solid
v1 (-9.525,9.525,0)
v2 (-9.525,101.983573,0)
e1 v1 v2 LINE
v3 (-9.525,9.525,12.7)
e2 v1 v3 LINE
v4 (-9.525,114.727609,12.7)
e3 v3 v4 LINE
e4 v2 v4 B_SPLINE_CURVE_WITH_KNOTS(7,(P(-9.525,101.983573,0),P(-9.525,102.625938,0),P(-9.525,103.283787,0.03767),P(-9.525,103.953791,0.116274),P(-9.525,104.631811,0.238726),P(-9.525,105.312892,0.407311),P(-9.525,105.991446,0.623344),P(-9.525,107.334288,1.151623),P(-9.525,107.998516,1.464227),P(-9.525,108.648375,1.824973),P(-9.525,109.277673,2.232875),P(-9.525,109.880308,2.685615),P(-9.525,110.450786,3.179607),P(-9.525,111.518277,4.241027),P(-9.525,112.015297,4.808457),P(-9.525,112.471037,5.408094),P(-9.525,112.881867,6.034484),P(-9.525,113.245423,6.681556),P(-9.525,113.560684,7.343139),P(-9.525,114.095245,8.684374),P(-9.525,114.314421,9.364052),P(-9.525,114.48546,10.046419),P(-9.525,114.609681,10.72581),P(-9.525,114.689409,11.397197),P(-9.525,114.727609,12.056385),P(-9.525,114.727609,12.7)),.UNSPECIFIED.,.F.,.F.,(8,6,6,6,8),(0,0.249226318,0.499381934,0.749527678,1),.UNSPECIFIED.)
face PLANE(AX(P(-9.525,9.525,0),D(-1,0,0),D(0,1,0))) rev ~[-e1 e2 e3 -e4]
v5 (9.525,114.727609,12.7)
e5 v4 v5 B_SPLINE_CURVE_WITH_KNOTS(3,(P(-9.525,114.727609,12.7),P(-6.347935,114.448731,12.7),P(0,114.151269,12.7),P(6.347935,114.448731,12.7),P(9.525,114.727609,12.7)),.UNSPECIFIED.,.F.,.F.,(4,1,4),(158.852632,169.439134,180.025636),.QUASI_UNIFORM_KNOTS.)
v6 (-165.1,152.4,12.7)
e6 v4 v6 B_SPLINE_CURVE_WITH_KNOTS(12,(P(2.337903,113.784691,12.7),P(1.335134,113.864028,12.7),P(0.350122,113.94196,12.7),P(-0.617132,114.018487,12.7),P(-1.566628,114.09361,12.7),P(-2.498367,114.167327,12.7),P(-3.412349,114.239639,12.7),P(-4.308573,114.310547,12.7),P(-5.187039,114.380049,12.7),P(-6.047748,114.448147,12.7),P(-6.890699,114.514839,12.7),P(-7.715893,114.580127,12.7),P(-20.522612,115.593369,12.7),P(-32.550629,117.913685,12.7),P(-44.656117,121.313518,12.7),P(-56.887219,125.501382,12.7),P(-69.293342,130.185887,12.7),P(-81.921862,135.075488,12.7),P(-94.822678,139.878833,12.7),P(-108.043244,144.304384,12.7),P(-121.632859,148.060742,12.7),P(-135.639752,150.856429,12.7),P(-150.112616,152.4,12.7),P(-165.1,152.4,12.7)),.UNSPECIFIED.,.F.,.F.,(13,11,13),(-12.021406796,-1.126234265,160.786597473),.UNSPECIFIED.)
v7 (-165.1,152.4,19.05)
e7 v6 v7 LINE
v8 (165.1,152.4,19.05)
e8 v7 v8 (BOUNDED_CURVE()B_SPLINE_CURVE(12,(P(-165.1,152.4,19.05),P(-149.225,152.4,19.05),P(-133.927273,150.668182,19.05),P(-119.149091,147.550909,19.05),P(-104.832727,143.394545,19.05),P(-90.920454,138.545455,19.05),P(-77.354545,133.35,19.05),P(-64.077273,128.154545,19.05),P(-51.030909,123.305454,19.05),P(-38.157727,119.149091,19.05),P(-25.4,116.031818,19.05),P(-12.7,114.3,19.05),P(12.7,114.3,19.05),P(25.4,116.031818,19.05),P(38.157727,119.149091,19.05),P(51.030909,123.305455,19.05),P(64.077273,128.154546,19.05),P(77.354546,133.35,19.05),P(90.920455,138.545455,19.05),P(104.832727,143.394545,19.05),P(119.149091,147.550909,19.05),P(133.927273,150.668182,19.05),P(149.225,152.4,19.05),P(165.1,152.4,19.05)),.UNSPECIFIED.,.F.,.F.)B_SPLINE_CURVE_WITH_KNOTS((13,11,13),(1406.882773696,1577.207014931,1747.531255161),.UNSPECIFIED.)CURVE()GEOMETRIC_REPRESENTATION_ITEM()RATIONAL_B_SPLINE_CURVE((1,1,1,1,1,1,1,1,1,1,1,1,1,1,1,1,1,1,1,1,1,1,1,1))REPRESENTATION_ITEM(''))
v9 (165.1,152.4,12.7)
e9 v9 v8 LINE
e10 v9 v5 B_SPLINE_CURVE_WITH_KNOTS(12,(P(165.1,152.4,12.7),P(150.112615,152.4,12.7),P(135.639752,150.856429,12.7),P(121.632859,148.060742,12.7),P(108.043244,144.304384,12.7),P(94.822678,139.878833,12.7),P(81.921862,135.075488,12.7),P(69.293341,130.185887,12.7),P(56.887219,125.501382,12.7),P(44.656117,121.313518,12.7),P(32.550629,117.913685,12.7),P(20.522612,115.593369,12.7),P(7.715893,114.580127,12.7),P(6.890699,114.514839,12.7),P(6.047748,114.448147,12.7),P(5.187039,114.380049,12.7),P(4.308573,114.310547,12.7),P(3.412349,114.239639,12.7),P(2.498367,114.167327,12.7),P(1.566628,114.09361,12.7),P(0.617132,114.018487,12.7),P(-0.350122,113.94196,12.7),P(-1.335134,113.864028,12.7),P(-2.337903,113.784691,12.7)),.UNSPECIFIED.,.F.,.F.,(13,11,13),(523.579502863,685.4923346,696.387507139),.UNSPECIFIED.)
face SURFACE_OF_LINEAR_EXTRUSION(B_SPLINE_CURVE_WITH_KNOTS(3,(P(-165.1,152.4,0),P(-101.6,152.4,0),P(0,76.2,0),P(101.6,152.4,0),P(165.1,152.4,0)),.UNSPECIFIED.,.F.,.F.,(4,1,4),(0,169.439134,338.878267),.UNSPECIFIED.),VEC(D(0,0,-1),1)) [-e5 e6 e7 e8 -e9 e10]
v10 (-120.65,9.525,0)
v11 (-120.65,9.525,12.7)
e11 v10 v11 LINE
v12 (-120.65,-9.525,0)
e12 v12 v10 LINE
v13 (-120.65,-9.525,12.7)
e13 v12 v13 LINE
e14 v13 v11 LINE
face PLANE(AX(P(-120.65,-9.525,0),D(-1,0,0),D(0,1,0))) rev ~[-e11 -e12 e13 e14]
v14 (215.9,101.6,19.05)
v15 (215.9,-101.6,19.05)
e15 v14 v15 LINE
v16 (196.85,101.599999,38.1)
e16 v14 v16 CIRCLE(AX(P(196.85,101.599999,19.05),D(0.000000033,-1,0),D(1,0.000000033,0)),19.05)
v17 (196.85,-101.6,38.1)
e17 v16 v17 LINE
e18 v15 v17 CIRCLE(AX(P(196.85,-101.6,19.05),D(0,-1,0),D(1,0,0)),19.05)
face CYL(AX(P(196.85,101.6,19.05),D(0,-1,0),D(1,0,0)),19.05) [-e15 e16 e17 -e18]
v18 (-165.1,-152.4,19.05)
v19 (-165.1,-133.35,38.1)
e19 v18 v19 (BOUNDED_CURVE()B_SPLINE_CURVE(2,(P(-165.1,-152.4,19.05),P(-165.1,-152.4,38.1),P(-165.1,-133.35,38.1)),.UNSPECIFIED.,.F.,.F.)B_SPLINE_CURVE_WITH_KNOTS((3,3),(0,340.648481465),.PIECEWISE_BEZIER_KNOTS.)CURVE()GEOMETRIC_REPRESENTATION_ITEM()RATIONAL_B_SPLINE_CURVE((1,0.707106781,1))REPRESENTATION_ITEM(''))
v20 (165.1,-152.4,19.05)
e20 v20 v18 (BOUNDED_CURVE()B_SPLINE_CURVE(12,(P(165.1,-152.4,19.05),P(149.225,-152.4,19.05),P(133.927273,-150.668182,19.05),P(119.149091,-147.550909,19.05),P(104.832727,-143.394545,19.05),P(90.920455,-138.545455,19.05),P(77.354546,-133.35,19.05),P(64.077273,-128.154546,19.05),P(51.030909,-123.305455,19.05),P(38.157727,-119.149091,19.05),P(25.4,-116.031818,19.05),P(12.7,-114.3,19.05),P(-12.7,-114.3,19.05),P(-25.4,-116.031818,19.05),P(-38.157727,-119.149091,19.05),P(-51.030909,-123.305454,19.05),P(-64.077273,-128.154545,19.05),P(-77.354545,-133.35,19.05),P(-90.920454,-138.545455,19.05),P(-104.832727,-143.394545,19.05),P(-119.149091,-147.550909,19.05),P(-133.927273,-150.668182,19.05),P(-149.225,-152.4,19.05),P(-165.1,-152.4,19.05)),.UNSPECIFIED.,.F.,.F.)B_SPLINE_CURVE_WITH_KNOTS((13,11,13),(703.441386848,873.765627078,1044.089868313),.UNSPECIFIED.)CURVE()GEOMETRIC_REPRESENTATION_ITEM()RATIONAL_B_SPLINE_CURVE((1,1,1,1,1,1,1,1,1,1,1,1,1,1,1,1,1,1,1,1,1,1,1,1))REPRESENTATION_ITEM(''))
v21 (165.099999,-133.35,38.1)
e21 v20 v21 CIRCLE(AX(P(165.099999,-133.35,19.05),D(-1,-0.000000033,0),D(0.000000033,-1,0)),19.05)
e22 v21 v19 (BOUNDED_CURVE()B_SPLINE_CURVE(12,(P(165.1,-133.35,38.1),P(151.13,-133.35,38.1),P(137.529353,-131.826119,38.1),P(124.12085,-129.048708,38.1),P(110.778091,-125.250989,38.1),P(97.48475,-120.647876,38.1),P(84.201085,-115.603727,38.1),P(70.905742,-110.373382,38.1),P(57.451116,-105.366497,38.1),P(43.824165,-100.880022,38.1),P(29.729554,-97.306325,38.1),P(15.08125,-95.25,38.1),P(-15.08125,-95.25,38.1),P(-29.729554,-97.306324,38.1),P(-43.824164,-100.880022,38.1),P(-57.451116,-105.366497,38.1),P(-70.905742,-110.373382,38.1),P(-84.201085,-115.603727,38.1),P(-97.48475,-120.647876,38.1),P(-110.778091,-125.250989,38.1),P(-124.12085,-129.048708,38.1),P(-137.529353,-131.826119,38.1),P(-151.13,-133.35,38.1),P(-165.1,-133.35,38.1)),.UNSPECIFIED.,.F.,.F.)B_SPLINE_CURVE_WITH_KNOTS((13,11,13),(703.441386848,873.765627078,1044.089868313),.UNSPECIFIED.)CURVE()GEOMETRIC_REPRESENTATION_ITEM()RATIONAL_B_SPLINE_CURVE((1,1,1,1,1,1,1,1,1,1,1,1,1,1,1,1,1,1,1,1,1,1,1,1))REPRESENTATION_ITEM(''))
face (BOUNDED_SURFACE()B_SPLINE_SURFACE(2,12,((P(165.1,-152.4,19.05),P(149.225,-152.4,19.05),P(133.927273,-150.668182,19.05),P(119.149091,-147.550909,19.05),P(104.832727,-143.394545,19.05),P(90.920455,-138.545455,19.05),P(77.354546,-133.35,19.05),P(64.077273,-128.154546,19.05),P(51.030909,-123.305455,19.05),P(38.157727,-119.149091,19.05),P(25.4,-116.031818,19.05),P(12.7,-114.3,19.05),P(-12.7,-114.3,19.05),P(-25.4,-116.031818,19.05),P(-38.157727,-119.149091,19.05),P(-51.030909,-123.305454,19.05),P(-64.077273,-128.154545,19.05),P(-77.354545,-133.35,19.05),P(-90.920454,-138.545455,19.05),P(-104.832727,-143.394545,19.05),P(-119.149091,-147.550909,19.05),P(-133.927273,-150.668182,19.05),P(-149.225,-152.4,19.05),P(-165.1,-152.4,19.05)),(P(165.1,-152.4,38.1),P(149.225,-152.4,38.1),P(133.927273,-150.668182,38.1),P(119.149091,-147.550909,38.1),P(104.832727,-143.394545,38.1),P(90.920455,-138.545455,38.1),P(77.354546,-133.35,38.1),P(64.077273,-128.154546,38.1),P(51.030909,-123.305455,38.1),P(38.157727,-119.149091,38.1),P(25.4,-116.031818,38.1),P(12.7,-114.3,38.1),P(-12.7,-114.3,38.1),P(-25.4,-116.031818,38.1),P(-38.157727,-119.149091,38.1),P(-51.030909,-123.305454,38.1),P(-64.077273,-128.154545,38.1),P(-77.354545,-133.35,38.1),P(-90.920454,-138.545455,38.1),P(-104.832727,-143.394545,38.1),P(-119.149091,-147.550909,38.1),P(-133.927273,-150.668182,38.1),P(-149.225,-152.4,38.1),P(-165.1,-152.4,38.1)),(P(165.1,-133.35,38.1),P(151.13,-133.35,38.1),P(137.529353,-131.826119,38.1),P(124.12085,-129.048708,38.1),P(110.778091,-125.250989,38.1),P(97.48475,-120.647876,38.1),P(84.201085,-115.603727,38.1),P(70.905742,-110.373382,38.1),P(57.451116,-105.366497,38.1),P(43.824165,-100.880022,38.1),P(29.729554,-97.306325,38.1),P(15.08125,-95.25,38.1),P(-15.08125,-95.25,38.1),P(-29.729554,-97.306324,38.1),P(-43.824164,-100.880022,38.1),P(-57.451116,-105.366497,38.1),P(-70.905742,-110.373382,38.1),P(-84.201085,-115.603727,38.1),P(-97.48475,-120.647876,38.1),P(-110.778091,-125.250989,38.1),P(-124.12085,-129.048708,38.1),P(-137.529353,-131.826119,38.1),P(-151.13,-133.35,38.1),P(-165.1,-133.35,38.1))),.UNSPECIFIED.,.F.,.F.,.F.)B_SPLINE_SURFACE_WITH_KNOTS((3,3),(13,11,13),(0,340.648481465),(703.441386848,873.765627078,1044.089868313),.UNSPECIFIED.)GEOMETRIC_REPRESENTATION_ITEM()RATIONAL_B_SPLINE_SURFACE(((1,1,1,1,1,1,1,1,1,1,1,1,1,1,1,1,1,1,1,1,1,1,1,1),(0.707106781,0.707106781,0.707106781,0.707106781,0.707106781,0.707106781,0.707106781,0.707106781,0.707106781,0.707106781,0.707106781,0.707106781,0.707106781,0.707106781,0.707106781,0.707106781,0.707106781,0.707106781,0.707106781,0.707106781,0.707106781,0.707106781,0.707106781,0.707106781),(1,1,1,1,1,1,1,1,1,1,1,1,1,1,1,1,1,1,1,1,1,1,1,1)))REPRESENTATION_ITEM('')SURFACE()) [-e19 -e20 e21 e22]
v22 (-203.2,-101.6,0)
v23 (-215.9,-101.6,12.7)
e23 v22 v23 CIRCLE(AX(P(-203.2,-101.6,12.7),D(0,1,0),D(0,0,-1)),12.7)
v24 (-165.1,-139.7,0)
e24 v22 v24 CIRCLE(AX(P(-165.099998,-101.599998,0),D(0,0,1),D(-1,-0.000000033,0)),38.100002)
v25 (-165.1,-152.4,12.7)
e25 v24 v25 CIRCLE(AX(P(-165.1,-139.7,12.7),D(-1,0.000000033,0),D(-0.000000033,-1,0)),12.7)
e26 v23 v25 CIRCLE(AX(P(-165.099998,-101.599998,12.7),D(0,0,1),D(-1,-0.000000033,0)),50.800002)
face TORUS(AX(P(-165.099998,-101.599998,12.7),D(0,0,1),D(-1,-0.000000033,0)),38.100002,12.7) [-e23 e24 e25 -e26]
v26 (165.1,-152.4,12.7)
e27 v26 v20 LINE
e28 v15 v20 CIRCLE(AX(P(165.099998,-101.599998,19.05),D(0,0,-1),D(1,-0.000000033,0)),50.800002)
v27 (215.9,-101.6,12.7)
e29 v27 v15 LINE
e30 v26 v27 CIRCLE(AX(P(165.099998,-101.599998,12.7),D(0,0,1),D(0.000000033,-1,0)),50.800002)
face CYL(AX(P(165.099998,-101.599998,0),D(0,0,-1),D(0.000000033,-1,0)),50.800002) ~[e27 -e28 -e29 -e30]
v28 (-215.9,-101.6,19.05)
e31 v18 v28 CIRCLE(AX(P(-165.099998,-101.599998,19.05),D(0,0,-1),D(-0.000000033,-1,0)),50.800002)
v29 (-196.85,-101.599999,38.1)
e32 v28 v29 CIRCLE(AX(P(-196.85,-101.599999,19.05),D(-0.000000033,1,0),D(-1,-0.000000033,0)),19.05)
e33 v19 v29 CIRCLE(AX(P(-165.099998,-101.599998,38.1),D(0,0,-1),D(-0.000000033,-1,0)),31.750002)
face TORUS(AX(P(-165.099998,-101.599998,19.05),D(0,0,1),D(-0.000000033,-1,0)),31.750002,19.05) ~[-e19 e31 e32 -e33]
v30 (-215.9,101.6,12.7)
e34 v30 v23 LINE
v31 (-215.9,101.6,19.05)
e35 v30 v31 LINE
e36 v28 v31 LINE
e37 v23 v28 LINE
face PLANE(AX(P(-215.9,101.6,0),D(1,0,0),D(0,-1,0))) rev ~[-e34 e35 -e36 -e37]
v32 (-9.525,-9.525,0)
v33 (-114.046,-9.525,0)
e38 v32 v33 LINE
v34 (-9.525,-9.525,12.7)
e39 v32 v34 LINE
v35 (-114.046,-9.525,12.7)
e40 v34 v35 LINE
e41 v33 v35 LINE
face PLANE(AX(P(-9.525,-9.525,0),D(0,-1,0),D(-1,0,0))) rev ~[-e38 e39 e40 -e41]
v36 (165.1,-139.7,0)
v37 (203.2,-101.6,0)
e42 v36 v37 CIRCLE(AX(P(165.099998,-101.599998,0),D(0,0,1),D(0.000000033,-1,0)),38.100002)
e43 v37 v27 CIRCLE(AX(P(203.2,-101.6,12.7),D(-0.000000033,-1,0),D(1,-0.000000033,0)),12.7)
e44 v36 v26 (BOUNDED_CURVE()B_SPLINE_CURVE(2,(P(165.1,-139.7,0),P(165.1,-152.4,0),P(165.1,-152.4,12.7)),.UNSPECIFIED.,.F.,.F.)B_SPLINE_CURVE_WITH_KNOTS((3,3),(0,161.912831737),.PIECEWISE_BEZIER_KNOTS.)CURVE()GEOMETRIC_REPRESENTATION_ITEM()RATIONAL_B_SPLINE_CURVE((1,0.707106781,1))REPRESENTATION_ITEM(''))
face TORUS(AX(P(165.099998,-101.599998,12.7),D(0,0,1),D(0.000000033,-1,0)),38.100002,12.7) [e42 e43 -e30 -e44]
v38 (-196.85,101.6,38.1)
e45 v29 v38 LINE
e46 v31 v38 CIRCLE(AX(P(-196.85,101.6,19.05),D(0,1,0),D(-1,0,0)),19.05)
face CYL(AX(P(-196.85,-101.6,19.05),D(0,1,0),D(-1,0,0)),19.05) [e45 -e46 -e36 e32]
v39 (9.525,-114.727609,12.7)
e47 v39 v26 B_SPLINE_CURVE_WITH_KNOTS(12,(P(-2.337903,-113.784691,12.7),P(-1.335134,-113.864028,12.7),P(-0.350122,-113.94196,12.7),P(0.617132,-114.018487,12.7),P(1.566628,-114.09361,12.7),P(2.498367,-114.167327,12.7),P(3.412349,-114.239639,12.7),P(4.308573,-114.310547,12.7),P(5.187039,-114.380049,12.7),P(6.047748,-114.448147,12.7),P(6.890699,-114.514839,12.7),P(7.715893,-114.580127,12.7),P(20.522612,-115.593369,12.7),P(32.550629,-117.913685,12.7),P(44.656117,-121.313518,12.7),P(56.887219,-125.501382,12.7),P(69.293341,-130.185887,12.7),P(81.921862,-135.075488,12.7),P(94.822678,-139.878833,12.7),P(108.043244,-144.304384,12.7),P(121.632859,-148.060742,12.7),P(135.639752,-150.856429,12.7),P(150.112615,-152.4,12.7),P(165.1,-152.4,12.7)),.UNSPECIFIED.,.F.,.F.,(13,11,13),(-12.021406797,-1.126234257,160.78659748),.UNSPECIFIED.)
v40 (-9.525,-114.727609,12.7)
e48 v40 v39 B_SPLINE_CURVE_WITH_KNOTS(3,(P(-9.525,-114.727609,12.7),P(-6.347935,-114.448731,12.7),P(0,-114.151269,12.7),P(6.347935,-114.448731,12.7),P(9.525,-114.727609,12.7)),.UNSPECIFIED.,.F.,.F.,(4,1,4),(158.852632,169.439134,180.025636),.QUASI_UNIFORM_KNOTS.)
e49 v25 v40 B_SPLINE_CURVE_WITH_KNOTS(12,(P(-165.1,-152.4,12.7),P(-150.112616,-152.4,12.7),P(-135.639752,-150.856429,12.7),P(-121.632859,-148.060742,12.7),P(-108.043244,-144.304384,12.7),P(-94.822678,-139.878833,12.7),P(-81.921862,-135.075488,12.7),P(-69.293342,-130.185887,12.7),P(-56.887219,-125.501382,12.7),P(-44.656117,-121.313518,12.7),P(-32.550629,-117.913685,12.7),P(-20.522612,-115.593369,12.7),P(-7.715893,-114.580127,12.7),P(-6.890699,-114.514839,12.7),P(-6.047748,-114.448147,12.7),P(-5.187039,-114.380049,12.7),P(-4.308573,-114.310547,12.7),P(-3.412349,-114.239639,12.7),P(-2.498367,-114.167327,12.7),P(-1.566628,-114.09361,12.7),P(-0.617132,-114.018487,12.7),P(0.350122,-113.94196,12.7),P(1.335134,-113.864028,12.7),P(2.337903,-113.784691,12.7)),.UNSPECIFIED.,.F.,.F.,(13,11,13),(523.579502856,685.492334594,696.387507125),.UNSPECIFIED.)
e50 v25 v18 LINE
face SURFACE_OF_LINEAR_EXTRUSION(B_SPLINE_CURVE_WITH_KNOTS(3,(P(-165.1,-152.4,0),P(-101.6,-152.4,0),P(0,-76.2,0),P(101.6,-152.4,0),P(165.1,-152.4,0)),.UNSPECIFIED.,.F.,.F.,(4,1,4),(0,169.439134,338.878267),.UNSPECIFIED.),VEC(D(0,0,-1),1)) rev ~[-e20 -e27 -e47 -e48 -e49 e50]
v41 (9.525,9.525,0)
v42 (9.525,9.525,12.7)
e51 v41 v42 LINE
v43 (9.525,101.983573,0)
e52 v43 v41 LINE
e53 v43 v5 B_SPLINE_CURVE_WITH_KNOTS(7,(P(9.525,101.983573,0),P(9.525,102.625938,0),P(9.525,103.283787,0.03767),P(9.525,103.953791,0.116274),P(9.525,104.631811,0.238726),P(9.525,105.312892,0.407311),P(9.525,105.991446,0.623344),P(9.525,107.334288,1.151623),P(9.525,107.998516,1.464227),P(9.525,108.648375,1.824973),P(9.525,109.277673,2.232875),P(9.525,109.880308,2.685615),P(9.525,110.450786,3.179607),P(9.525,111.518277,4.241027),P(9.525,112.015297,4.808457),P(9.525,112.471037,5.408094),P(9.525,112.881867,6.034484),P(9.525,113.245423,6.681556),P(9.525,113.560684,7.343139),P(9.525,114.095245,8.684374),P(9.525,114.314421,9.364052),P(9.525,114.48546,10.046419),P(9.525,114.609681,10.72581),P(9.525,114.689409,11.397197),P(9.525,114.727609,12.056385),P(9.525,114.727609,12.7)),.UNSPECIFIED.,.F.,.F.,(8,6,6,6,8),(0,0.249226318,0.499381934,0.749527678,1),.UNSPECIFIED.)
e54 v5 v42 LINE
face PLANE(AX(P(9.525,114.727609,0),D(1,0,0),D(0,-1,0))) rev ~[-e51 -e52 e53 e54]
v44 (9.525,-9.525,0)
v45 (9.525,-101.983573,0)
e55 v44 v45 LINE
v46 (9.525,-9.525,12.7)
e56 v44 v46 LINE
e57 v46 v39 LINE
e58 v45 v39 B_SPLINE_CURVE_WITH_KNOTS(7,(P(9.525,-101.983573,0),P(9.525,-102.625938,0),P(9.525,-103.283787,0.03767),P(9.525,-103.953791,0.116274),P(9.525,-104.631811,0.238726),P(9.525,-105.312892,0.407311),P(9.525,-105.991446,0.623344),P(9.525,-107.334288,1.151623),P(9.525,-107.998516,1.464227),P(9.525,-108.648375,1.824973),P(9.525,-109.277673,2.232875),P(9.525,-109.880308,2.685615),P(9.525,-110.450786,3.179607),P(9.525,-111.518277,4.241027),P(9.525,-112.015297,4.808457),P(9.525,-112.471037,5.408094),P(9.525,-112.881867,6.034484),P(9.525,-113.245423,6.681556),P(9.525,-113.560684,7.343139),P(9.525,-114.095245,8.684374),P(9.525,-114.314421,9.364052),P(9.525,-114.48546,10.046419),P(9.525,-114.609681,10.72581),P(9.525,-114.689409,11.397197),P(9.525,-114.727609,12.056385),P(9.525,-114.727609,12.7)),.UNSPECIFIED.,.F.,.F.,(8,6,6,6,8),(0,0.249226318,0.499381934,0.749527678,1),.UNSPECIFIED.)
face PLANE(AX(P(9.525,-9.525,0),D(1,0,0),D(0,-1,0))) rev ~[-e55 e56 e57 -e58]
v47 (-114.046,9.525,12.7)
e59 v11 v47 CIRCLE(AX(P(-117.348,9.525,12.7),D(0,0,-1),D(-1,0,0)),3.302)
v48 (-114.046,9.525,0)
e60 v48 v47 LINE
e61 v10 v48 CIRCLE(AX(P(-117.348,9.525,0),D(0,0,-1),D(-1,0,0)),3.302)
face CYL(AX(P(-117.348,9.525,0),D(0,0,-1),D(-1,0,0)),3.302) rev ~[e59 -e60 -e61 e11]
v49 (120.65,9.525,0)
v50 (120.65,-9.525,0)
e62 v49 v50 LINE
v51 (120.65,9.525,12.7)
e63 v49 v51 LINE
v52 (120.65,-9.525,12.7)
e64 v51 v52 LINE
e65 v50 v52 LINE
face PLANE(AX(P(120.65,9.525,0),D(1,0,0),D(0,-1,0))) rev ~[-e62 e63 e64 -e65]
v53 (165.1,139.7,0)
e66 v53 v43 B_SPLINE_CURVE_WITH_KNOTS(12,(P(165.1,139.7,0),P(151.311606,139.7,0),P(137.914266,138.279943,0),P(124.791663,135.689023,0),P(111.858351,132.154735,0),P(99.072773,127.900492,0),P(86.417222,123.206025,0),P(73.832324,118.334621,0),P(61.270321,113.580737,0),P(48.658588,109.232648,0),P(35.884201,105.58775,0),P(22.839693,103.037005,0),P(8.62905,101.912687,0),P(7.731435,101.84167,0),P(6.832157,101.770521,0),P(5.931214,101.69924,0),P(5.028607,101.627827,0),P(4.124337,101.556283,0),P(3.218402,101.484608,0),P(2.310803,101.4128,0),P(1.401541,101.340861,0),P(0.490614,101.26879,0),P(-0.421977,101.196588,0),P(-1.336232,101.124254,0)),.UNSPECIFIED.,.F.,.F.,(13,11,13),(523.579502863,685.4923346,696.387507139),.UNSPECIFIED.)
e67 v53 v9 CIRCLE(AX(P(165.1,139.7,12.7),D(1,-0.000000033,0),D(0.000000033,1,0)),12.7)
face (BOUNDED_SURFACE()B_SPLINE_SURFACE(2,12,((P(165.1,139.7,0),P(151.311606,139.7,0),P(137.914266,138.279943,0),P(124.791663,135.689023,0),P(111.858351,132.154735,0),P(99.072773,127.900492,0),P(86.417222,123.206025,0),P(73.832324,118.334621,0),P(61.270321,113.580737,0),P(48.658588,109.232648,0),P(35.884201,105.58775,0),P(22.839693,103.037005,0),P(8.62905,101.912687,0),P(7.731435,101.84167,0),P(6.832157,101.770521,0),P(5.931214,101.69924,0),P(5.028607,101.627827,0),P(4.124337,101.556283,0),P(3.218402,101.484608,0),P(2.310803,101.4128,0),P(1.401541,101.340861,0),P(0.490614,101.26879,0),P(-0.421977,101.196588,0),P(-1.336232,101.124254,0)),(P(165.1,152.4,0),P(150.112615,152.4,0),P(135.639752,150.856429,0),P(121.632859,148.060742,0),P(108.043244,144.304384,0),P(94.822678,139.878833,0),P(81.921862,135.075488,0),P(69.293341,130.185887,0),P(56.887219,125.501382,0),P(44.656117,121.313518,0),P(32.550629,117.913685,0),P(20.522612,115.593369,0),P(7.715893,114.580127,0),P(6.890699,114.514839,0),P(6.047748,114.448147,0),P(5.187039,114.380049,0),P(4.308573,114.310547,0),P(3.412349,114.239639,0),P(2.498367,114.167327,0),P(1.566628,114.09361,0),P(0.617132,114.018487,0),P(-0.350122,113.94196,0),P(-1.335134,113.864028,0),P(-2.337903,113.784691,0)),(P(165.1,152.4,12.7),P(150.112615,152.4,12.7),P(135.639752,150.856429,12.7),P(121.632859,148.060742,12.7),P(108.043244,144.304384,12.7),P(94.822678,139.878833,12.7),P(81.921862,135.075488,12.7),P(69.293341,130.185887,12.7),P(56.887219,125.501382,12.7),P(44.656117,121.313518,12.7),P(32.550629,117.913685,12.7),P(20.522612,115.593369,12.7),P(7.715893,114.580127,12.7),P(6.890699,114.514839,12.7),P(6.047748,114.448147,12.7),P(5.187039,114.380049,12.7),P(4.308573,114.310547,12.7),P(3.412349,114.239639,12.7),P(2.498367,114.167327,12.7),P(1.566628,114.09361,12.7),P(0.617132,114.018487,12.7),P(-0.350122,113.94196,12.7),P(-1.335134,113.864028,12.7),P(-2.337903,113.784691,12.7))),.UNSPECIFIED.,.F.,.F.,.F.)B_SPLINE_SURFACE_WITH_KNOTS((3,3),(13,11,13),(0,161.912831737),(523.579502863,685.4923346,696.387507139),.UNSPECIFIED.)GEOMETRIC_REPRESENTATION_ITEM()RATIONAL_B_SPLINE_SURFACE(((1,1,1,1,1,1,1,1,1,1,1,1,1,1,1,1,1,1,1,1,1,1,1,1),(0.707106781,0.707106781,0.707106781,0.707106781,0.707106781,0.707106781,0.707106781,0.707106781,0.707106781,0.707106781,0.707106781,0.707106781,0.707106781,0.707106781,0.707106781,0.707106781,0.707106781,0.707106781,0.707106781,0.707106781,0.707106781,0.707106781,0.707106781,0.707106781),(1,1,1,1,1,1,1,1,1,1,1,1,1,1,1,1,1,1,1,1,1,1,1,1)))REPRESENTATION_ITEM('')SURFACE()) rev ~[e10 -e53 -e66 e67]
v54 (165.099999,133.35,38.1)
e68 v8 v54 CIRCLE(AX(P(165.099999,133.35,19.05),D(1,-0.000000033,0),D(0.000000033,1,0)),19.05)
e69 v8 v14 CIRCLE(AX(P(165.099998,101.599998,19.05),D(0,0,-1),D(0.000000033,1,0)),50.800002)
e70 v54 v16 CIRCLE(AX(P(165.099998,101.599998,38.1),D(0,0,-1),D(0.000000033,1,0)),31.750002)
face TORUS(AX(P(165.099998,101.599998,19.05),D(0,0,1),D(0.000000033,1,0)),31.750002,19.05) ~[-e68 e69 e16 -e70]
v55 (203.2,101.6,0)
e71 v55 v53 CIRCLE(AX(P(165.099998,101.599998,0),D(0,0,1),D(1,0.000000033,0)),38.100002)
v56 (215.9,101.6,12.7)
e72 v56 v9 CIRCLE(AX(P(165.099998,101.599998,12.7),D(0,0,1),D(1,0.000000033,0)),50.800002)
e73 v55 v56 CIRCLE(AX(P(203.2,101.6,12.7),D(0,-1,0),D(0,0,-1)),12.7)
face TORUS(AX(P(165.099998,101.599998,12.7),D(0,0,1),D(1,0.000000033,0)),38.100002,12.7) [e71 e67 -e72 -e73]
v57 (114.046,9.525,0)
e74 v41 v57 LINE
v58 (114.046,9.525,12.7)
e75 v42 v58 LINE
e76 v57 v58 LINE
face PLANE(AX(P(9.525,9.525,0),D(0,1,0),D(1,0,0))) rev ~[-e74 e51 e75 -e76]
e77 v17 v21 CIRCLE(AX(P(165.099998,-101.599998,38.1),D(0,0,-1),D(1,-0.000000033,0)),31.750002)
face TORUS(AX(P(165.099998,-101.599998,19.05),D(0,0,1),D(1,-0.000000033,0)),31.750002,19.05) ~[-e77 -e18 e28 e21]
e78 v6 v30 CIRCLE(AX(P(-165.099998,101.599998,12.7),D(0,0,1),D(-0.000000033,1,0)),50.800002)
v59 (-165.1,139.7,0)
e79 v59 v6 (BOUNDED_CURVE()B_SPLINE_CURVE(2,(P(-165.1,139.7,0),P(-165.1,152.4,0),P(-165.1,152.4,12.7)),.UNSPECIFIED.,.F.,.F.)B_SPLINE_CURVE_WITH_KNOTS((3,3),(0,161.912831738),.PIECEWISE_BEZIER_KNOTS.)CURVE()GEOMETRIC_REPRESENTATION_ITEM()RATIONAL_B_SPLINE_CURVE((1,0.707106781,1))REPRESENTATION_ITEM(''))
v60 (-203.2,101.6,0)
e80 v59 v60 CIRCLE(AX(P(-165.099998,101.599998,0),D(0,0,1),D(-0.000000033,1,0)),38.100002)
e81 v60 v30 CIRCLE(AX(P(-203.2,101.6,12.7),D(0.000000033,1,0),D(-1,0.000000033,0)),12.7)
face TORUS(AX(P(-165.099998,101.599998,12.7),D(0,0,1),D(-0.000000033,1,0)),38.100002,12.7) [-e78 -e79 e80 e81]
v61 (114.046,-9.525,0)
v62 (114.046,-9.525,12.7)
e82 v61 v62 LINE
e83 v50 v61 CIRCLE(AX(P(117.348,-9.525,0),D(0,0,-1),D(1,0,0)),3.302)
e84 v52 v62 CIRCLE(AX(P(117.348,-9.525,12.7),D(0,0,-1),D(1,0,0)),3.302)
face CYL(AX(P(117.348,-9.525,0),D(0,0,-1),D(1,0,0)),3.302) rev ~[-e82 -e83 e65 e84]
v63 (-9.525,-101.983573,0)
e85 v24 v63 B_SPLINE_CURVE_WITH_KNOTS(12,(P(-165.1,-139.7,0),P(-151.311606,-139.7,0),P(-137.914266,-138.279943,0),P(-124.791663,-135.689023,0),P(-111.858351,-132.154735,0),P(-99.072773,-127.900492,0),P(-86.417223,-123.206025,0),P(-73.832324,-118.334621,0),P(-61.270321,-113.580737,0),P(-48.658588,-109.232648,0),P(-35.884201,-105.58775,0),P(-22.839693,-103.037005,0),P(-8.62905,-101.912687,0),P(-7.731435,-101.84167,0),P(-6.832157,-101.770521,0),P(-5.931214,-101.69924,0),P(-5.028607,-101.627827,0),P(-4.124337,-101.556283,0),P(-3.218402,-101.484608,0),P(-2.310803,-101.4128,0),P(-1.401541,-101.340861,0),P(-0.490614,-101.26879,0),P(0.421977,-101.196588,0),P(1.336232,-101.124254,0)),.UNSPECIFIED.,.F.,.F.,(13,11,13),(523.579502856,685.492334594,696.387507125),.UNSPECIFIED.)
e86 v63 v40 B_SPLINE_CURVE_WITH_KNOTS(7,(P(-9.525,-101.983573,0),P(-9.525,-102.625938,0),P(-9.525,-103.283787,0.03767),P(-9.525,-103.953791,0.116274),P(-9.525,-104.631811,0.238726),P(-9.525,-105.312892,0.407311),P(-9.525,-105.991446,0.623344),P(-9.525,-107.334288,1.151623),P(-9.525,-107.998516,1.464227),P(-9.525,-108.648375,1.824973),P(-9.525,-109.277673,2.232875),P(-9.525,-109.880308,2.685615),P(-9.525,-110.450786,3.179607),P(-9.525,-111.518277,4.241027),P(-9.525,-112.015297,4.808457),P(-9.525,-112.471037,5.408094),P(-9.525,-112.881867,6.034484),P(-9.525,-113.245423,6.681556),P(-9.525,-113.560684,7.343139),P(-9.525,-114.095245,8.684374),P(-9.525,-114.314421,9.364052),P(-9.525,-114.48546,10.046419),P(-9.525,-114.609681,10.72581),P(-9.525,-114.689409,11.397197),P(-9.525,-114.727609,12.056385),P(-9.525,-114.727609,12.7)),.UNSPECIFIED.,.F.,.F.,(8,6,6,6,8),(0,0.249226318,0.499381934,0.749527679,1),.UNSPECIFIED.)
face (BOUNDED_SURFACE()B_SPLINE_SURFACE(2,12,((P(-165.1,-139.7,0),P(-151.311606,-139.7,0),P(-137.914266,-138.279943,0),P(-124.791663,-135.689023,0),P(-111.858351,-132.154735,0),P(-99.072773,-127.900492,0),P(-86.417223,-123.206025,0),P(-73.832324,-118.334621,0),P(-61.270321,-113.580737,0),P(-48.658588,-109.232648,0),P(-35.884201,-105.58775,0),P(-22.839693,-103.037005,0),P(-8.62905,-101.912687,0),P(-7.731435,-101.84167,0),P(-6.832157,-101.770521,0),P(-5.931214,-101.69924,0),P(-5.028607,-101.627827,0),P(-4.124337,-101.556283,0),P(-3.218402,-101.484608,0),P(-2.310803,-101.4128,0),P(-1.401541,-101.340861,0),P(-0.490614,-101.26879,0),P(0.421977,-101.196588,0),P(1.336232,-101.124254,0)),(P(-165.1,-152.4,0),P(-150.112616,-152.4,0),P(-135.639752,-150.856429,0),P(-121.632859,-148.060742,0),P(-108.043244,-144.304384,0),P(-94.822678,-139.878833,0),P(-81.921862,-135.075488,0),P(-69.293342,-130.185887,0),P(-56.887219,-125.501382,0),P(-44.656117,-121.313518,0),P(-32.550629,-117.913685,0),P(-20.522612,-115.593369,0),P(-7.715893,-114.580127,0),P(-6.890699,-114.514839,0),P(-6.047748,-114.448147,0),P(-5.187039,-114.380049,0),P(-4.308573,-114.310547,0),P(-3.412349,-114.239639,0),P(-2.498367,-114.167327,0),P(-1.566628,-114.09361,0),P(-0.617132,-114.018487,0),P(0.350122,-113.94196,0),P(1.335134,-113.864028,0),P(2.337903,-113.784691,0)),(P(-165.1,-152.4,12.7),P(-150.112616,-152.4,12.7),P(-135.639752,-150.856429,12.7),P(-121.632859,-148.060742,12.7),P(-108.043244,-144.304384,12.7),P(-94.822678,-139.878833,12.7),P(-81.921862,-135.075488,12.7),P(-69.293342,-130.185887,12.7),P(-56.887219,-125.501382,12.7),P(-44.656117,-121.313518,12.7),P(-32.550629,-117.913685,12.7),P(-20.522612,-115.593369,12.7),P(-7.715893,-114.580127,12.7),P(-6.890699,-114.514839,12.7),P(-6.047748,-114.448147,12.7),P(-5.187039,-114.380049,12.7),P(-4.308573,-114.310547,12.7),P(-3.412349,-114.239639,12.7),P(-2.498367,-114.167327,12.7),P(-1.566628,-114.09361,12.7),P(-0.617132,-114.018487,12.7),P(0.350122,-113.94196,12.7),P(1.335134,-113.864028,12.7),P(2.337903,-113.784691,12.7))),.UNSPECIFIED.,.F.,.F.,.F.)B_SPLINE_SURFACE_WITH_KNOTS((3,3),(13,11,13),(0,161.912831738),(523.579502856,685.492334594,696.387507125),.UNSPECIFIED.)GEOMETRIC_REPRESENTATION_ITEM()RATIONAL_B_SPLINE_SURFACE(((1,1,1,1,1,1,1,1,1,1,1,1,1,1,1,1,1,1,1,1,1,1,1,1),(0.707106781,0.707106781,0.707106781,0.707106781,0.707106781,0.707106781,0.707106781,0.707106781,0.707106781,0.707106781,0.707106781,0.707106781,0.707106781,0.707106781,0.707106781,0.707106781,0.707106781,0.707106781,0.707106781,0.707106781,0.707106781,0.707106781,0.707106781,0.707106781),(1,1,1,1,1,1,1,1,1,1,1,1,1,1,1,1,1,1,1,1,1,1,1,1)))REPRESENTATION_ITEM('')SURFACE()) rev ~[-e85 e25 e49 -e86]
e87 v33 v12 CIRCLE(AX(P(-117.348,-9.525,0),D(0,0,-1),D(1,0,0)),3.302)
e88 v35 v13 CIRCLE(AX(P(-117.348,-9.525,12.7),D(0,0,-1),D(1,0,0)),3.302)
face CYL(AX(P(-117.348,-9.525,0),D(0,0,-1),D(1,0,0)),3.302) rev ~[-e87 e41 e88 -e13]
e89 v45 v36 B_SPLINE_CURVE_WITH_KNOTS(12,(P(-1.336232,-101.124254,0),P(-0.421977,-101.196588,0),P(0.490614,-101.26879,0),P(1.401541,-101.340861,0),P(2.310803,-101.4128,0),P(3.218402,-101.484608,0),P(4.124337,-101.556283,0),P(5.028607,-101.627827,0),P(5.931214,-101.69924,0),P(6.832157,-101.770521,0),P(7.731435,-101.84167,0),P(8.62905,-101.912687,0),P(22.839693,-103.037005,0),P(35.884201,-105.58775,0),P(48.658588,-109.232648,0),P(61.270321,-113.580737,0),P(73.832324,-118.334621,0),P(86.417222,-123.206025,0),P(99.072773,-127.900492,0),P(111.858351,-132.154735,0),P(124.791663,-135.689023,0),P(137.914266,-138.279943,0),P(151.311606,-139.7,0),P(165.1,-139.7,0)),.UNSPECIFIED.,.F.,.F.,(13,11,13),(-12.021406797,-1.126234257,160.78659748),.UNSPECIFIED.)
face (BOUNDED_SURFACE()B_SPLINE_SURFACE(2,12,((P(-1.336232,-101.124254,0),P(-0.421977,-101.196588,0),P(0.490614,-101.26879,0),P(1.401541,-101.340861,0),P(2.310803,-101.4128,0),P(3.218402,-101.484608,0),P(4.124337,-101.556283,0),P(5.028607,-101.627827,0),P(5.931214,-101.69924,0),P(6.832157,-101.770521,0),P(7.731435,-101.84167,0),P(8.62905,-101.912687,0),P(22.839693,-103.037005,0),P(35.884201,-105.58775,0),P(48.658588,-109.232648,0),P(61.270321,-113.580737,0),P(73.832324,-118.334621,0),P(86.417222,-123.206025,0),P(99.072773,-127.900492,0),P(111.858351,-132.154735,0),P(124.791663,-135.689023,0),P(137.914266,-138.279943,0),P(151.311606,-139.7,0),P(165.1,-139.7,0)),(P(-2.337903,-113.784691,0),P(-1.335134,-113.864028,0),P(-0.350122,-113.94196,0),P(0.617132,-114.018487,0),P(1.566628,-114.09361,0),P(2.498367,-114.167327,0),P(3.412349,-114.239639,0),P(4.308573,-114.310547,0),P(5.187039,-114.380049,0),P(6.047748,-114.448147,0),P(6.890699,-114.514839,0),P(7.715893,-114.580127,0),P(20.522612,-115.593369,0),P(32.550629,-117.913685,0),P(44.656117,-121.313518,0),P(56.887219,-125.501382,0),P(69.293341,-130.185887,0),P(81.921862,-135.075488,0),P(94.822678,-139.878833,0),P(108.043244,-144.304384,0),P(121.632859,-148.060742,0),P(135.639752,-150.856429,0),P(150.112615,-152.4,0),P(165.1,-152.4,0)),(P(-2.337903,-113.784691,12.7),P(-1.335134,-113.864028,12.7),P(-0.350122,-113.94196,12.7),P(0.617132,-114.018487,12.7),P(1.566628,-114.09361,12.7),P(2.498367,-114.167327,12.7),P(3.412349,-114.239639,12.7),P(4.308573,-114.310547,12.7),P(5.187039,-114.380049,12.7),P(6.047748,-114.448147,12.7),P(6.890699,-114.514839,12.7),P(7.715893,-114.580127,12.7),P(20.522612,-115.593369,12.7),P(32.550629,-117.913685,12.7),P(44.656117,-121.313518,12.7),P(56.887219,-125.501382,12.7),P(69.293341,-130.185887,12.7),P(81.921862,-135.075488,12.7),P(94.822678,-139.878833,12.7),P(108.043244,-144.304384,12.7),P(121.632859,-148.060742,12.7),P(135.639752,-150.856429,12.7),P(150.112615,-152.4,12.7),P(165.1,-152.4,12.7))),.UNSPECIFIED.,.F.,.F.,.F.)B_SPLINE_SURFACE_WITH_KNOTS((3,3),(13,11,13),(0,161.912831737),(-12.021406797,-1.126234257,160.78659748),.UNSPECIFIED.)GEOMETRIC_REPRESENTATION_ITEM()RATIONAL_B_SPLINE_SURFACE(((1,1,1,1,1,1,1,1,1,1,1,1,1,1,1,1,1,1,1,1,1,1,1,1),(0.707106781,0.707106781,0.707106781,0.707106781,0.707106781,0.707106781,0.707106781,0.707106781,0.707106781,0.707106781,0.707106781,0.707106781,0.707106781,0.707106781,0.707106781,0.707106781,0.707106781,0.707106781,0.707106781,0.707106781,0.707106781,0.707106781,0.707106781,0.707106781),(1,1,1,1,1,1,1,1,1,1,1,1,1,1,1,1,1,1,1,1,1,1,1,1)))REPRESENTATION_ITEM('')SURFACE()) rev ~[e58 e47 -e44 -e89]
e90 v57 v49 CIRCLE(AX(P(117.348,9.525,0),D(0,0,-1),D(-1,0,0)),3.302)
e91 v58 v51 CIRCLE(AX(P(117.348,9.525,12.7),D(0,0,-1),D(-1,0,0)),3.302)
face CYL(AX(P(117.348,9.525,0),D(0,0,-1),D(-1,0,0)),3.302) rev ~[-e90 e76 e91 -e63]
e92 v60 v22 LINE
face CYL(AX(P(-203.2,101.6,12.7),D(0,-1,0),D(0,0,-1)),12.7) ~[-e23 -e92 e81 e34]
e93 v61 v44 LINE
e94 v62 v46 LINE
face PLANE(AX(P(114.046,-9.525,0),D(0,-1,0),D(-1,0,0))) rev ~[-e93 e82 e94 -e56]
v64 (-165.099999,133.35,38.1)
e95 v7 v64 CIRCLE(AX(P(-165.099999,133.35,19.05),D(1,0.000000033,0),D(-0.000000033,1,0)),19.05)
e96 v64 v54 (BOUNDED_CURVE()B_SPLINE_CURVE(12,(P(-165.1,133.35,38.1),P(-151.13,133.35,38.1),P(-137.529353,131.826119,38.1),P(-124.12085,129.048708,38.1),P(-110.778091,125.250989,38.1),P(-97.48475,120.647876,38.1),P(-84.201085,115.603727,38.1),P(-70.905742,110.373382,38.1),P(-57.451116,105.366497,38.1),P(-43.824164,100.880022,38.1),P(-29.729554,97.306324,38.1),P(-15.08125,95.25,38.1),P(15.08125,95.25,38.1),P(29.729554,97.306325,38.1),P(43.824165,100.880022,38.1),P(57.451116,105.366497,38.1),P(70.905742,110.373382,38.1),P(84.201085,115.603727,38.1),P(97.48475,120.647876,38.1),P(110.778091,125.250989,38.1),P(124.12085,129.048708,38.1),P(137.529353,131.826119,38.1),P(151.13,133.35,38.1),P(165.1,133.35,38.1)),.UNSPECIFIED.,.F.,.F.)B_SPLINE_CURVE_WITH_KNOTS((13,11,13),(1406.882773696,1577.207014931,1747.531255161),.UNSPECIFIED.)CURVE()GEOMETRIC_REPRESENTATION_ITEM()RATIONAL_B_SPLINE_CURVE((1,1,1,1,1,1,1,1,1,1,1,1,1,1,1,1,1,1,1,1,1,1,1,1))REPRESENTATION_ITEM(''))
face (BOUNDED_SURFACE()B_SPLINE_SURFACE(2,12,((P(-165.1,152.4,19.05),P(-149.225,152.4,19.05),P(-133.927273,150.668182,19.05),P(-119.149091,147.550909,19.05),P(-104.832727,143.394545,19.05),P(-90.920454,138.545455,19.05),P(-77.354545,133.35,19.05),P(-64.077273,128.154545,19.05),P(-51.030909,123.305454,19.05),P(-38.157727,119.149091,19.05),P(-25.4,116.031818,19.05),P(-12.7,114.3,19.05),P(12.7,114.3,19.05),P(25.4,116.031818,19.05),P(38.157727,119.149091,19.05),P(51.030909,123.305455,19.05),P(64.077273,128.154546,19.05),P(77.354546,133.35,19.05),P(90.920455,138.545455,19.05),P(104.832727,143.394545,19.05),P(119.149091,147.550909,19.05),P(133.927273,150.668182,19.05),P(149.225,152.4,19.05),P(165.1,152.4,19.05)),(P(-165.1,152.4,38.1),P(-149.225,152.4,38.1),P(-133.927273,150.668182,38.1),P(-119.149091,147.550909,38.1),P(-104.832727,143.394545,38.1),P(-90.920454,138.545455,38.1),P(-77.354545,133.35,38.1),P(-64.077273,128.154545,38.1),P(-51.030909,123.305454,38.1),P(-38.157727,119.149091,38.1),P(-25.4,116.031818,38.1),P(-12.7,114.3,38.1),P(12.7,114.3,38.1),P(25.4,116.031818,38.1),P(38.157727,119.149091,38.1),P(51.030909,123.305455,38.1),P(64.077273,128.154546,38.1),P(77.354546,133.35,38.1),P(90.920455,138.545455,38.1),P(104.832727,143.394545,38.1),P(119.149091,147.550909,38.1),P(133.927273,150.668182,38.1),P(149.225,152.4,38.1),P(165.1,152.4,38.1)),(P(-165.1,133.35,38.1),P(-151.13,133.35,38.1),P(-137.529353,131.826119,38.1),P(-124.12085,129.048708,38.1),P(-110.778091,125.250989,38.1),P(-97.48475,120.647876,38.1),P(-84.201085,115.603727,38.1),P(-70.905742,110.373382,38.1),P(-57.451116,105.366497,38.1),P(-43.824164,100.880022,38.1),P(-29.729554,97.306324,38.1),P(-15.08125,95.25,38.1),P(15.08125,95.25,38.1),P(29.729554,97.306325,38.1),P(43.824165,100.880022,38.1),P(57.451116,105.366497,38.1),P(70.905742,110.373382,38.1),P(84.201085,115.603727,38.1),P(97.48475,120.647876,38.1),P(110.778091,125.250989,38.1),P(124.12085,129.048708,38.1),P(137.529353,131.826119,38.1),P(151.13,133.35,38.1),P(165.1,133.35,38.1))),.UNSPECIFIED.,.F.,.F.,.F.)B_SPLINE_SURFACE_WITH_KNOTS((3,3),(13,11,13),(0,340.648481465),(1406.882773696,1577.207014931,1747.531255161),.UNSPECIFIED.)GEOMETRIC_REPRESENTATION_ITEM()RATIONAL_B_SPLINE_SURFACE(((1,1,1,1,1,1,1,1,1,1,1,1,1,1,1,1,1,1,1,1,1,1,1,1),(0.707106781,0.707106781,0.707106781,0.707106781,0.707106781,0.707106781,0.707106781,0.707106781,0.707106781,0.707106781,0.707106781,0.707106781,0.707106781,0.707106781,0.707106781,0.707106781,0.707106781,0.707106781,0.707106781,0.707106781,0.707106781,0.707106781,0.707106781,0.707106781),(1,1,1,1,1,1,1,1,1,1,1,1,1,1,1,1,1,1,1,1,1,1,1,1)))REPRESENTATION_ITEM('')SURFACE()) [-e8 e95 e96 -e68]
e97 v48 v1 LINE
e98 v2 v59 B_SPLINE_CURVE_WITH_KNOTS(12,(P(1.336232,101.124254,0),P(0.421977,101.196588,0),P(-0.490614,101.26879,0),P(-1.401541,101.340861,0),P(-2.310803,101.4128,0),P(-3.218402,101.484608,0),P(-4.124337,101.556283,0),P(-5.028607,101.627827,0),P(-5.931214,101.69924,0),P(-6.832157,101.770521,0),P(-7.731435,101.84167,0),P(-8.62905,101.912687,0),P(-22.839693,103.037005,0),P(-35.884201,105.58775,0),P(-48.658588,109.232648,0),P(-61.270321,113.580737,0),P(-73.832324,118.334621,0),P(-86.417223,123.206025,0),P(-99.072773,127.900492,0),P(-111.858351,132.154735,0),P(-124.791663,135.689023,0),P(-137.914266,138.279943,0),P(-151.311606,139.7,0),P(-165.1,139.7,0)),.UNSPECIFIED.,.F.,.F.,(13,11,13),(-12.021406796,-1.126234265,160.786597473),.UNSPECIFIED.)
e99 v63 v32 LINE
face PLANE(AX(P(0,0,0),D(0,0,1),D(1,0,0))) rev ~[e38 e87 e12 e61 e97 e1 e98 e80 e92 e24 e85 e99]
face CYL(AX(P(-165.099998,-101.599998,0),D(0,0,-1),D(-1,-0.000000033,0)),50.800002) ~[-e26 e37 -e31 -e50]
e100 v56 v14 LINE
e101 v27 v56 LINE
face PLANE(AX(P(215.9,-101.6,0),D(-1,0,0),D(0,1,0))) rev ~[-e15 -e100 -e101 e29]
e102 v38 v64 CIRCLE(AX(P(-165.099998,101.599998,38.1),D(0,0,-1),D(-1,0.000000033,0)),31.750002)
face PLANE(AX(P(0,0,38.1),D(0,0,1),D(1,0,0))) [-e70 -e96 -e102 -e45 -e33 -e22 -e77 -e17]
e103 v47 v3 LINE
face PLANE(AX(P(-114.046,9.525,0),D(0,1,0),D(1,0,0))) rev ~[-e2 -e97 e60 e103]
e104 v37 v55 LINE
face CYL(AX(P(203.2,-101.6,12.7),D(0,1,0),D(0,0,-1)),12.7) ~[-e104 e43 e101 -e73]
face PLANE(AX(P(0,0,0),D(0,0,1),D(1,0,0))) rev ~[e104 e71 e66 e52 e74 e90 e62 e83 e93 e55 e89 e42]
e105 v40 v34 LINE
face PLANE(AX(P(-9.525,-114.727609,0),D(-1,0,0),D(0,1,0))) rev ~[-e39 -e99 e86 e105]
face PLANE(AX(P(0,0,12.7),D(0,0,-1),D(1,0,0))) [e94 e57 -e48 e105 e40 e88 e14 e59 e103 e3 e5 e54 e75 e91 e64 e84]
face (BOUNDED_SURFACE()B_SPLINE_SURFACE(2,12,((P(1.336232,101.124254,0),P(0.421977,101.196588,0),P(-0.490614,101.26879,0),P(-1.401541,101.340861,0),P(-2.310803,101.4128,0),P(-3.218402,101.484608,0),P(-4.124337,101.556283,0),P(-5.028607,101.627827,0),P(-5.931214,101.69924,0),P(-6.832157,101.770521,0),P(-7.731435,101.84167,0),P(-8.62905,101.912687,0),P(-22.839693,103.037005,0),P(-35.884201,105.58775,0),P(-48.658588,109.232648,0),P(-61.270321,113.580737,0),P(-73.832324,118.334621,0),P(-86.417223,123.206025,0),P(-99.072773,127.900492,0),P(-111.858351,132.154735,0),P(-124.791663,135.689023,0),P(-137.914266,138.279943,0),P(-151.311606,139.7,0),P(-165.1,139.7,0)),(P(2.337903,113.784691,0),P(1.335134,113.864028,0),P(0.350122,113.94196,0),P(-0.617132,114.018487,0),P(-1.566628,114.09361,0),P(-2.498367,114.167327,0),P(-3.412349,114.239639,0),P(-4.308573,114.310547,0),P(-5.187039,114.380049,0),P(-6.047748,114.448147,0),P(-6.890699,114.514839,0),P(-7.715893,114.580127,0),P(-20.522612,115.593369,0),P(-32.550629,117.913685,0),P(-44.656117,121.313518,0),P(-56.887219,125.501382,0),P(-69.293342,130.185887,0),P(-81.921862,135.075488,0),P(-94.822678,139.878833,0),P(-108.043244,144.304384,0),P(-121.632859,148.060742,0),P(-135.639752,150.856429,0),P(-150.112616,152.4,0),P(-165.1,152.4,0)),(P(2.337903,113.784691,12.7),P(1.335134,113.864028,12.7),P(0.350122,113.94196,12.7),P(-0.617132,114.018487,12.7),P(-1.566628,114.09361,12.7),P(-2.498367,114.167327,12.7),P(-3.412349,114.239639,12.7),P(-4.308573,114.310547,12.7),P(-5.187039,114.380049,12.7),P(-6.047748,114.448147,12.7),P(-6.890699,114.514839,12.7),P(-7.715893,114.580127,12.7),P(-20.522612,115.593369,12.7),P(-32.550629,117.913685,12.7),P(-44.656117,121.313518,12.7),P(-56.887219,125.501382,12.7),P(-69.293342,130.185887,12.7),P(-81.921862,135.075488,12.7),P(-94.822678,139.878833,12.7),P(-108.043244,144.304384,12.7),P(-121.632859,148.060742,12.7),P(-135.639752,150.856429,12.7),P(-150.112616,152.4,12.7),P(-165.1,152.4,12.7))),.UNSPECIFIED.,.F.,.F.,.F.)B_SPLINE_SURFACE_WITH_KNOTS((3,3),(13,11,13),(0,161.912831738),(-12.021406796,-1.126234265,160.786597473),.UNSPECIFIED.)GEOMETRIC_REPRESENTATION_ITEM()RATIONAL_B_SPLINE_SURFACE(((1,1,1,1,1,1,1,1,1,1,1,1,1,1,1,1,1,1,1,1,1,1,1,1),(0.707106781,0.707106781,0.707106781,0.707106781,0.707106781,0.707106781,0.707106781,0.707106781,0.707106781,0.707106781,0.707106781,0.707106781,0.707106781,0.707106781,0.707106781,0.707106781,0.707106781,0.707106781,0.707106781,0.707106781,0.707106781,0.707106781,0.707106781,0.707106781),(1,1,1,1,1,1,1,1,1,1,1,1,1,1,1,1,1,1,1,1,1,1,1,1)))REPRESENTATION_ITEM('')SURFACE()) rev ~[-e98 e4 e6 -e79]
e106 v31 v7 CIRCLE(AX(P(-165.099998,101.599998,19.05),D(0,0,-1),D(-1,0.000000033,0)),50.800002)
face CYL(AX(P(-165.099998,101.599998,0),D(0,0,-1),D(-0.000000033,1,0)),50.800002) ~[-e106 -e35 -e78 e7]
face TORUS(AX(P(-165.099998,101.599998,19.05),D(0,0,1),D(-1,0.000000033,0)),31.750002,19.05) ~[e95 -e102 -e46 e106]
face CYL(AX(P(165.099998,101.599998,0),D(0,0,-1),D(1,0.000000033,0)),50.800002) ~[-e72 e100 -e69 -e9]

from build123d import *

# Parameters (mm, degrees)
F1_DEPTH = 38.1
F3_DEPTH = 12.7
F4_R     = 12.7
F5_R     = 19.05


with BuildPart() as f1:
    # F0 (on Top) → F1 (new body)
    with BuildSketch(Plane.XY):
        with BuildLine():
            ThreePointArc((-165.1, 152.4), (-201.021024, 137.521024), (-215.9, 101.6))
            Line((-215.9, 101.6), (-215.9, -101.6))
            ThreePointArc((-215.9, -101.6), (-201.021024, -137.521024), (-165.1, -152.4))
            add(Edge.make_bspline(
                [(-165.1, -152.4), (-101.6, -152.4), (0, -76.2), (101.6, -152.4), (165.1, -152.4)],
                knots=[0, 0, 0, 0, 169.439134, 338.878267, 338.878267, 338.878267, 338.878267], degree=3))
            ThreePointArc((165.1, -152.4), (201.021024, -137.521024), (215.9, -101.6))
            Line((215.9, -101.6), (215.9, 101.6))
            ThreePointArc((215.9, 101.6), (201.021024, 137.521024), (165.1, 152.4))
            add(Edge.make_bspline(
                [(-165.1, 152.4), (-101.6, 152.4), (0, 76.2), (101.6, 152.4), (165.1, 152.4)],
                knots=[0, 0, 0, 0, 169.439134, 338.878267, 338.878267, 338.878267, 338.878267], degree=3))
        make_face()
    extrude(amount=F1_DEPTH)

    # F2 (on face) → F3 (cut)
    with BuildSketch(Plane(origin=(0, 0, 0), x_dir=(1, 0, 0), z_dir=(0, 0, -1))):
        with BuildLine():
            ThreePointArc((-114.046, 9.525), (-117.348, 12.827), (-120.65, 9.525))
            Line((-120.65, 9.525), (-120.65, -9.525))
            ThreePointArc((-120.65, -9.525), (-117.348, -12.827), (-114.046, -9.525))
            Line((-114.046, -9.525), (-9.525, -9.525))
            Line((-9.525, -9.525), (-9.525, -114.727609))
            add(Edge.make_bspline(
                [(-9.525, -114.727609), (-6.347935, -114.448731), (0, -114.151269), (6.347935, -114.448731), (9.525, -114.727609)],
                knots=[158.852632, 158.852632, 158.852632, 158.852632, 169.439134, 180.025636, 180.025636, 180.025636, 180.025636], degree=3))
            Line((9.525, -114.727609), (9.525, -9.525))
            Line((9.525, -9.525), (114.046, -9.525))
            ThreePointArc((114.046, -9.525), (117.348, -12.827), (120.65, -9.525))
            Line((120.65, -9.525), (120.65, 9.525))
            ThreePointArc((120.65, 9.525), (117.348, 12.827), (114.046, 9.525))
            Line((114.046, 9.525), (9.525, 9.525))
            Line((9.525, 9.525), (9.525, 114.727609))
            add(Edge.make_bspline(
                [(-9.525, 114.727609), (-6.347935, 114.448731), (0, 114.151269), (6.347935, 114.448731), (9.525, 114.727609)],
                knots=[158.852632, 158.852632, 158.852632, 158.852632, 169.439134, 180.025636, 180.025636, 180.025636, 180.025636], degree=3))
            Line((-9.525, 114.727609), (-9.525, 9.525))
            Line((-9.525, 9.525), (-114.046, 9.525))
        make_face()
    extrude(amount=-F3_DEPTH, mode=Mode.SUBTRACT)

    # F4
    f4_edges = [f1.edges().sort_by_distance(p)[0] for p in [
        (-201.021024, -137.521024, 0),
        (-86.699653, -136.462181, 0),
        (86.699653, -136.462181, 0),
    ]]
    fillet(f4_edges, radius=F4_R)

    # F5
    f5_edges = [f1.edges().sort_by_distance(p)[0] for p in [
        (0, 114.3, 38.1),
    ]]
    fillet(f5_edges, radius=F5_R)


solid = f1.part
